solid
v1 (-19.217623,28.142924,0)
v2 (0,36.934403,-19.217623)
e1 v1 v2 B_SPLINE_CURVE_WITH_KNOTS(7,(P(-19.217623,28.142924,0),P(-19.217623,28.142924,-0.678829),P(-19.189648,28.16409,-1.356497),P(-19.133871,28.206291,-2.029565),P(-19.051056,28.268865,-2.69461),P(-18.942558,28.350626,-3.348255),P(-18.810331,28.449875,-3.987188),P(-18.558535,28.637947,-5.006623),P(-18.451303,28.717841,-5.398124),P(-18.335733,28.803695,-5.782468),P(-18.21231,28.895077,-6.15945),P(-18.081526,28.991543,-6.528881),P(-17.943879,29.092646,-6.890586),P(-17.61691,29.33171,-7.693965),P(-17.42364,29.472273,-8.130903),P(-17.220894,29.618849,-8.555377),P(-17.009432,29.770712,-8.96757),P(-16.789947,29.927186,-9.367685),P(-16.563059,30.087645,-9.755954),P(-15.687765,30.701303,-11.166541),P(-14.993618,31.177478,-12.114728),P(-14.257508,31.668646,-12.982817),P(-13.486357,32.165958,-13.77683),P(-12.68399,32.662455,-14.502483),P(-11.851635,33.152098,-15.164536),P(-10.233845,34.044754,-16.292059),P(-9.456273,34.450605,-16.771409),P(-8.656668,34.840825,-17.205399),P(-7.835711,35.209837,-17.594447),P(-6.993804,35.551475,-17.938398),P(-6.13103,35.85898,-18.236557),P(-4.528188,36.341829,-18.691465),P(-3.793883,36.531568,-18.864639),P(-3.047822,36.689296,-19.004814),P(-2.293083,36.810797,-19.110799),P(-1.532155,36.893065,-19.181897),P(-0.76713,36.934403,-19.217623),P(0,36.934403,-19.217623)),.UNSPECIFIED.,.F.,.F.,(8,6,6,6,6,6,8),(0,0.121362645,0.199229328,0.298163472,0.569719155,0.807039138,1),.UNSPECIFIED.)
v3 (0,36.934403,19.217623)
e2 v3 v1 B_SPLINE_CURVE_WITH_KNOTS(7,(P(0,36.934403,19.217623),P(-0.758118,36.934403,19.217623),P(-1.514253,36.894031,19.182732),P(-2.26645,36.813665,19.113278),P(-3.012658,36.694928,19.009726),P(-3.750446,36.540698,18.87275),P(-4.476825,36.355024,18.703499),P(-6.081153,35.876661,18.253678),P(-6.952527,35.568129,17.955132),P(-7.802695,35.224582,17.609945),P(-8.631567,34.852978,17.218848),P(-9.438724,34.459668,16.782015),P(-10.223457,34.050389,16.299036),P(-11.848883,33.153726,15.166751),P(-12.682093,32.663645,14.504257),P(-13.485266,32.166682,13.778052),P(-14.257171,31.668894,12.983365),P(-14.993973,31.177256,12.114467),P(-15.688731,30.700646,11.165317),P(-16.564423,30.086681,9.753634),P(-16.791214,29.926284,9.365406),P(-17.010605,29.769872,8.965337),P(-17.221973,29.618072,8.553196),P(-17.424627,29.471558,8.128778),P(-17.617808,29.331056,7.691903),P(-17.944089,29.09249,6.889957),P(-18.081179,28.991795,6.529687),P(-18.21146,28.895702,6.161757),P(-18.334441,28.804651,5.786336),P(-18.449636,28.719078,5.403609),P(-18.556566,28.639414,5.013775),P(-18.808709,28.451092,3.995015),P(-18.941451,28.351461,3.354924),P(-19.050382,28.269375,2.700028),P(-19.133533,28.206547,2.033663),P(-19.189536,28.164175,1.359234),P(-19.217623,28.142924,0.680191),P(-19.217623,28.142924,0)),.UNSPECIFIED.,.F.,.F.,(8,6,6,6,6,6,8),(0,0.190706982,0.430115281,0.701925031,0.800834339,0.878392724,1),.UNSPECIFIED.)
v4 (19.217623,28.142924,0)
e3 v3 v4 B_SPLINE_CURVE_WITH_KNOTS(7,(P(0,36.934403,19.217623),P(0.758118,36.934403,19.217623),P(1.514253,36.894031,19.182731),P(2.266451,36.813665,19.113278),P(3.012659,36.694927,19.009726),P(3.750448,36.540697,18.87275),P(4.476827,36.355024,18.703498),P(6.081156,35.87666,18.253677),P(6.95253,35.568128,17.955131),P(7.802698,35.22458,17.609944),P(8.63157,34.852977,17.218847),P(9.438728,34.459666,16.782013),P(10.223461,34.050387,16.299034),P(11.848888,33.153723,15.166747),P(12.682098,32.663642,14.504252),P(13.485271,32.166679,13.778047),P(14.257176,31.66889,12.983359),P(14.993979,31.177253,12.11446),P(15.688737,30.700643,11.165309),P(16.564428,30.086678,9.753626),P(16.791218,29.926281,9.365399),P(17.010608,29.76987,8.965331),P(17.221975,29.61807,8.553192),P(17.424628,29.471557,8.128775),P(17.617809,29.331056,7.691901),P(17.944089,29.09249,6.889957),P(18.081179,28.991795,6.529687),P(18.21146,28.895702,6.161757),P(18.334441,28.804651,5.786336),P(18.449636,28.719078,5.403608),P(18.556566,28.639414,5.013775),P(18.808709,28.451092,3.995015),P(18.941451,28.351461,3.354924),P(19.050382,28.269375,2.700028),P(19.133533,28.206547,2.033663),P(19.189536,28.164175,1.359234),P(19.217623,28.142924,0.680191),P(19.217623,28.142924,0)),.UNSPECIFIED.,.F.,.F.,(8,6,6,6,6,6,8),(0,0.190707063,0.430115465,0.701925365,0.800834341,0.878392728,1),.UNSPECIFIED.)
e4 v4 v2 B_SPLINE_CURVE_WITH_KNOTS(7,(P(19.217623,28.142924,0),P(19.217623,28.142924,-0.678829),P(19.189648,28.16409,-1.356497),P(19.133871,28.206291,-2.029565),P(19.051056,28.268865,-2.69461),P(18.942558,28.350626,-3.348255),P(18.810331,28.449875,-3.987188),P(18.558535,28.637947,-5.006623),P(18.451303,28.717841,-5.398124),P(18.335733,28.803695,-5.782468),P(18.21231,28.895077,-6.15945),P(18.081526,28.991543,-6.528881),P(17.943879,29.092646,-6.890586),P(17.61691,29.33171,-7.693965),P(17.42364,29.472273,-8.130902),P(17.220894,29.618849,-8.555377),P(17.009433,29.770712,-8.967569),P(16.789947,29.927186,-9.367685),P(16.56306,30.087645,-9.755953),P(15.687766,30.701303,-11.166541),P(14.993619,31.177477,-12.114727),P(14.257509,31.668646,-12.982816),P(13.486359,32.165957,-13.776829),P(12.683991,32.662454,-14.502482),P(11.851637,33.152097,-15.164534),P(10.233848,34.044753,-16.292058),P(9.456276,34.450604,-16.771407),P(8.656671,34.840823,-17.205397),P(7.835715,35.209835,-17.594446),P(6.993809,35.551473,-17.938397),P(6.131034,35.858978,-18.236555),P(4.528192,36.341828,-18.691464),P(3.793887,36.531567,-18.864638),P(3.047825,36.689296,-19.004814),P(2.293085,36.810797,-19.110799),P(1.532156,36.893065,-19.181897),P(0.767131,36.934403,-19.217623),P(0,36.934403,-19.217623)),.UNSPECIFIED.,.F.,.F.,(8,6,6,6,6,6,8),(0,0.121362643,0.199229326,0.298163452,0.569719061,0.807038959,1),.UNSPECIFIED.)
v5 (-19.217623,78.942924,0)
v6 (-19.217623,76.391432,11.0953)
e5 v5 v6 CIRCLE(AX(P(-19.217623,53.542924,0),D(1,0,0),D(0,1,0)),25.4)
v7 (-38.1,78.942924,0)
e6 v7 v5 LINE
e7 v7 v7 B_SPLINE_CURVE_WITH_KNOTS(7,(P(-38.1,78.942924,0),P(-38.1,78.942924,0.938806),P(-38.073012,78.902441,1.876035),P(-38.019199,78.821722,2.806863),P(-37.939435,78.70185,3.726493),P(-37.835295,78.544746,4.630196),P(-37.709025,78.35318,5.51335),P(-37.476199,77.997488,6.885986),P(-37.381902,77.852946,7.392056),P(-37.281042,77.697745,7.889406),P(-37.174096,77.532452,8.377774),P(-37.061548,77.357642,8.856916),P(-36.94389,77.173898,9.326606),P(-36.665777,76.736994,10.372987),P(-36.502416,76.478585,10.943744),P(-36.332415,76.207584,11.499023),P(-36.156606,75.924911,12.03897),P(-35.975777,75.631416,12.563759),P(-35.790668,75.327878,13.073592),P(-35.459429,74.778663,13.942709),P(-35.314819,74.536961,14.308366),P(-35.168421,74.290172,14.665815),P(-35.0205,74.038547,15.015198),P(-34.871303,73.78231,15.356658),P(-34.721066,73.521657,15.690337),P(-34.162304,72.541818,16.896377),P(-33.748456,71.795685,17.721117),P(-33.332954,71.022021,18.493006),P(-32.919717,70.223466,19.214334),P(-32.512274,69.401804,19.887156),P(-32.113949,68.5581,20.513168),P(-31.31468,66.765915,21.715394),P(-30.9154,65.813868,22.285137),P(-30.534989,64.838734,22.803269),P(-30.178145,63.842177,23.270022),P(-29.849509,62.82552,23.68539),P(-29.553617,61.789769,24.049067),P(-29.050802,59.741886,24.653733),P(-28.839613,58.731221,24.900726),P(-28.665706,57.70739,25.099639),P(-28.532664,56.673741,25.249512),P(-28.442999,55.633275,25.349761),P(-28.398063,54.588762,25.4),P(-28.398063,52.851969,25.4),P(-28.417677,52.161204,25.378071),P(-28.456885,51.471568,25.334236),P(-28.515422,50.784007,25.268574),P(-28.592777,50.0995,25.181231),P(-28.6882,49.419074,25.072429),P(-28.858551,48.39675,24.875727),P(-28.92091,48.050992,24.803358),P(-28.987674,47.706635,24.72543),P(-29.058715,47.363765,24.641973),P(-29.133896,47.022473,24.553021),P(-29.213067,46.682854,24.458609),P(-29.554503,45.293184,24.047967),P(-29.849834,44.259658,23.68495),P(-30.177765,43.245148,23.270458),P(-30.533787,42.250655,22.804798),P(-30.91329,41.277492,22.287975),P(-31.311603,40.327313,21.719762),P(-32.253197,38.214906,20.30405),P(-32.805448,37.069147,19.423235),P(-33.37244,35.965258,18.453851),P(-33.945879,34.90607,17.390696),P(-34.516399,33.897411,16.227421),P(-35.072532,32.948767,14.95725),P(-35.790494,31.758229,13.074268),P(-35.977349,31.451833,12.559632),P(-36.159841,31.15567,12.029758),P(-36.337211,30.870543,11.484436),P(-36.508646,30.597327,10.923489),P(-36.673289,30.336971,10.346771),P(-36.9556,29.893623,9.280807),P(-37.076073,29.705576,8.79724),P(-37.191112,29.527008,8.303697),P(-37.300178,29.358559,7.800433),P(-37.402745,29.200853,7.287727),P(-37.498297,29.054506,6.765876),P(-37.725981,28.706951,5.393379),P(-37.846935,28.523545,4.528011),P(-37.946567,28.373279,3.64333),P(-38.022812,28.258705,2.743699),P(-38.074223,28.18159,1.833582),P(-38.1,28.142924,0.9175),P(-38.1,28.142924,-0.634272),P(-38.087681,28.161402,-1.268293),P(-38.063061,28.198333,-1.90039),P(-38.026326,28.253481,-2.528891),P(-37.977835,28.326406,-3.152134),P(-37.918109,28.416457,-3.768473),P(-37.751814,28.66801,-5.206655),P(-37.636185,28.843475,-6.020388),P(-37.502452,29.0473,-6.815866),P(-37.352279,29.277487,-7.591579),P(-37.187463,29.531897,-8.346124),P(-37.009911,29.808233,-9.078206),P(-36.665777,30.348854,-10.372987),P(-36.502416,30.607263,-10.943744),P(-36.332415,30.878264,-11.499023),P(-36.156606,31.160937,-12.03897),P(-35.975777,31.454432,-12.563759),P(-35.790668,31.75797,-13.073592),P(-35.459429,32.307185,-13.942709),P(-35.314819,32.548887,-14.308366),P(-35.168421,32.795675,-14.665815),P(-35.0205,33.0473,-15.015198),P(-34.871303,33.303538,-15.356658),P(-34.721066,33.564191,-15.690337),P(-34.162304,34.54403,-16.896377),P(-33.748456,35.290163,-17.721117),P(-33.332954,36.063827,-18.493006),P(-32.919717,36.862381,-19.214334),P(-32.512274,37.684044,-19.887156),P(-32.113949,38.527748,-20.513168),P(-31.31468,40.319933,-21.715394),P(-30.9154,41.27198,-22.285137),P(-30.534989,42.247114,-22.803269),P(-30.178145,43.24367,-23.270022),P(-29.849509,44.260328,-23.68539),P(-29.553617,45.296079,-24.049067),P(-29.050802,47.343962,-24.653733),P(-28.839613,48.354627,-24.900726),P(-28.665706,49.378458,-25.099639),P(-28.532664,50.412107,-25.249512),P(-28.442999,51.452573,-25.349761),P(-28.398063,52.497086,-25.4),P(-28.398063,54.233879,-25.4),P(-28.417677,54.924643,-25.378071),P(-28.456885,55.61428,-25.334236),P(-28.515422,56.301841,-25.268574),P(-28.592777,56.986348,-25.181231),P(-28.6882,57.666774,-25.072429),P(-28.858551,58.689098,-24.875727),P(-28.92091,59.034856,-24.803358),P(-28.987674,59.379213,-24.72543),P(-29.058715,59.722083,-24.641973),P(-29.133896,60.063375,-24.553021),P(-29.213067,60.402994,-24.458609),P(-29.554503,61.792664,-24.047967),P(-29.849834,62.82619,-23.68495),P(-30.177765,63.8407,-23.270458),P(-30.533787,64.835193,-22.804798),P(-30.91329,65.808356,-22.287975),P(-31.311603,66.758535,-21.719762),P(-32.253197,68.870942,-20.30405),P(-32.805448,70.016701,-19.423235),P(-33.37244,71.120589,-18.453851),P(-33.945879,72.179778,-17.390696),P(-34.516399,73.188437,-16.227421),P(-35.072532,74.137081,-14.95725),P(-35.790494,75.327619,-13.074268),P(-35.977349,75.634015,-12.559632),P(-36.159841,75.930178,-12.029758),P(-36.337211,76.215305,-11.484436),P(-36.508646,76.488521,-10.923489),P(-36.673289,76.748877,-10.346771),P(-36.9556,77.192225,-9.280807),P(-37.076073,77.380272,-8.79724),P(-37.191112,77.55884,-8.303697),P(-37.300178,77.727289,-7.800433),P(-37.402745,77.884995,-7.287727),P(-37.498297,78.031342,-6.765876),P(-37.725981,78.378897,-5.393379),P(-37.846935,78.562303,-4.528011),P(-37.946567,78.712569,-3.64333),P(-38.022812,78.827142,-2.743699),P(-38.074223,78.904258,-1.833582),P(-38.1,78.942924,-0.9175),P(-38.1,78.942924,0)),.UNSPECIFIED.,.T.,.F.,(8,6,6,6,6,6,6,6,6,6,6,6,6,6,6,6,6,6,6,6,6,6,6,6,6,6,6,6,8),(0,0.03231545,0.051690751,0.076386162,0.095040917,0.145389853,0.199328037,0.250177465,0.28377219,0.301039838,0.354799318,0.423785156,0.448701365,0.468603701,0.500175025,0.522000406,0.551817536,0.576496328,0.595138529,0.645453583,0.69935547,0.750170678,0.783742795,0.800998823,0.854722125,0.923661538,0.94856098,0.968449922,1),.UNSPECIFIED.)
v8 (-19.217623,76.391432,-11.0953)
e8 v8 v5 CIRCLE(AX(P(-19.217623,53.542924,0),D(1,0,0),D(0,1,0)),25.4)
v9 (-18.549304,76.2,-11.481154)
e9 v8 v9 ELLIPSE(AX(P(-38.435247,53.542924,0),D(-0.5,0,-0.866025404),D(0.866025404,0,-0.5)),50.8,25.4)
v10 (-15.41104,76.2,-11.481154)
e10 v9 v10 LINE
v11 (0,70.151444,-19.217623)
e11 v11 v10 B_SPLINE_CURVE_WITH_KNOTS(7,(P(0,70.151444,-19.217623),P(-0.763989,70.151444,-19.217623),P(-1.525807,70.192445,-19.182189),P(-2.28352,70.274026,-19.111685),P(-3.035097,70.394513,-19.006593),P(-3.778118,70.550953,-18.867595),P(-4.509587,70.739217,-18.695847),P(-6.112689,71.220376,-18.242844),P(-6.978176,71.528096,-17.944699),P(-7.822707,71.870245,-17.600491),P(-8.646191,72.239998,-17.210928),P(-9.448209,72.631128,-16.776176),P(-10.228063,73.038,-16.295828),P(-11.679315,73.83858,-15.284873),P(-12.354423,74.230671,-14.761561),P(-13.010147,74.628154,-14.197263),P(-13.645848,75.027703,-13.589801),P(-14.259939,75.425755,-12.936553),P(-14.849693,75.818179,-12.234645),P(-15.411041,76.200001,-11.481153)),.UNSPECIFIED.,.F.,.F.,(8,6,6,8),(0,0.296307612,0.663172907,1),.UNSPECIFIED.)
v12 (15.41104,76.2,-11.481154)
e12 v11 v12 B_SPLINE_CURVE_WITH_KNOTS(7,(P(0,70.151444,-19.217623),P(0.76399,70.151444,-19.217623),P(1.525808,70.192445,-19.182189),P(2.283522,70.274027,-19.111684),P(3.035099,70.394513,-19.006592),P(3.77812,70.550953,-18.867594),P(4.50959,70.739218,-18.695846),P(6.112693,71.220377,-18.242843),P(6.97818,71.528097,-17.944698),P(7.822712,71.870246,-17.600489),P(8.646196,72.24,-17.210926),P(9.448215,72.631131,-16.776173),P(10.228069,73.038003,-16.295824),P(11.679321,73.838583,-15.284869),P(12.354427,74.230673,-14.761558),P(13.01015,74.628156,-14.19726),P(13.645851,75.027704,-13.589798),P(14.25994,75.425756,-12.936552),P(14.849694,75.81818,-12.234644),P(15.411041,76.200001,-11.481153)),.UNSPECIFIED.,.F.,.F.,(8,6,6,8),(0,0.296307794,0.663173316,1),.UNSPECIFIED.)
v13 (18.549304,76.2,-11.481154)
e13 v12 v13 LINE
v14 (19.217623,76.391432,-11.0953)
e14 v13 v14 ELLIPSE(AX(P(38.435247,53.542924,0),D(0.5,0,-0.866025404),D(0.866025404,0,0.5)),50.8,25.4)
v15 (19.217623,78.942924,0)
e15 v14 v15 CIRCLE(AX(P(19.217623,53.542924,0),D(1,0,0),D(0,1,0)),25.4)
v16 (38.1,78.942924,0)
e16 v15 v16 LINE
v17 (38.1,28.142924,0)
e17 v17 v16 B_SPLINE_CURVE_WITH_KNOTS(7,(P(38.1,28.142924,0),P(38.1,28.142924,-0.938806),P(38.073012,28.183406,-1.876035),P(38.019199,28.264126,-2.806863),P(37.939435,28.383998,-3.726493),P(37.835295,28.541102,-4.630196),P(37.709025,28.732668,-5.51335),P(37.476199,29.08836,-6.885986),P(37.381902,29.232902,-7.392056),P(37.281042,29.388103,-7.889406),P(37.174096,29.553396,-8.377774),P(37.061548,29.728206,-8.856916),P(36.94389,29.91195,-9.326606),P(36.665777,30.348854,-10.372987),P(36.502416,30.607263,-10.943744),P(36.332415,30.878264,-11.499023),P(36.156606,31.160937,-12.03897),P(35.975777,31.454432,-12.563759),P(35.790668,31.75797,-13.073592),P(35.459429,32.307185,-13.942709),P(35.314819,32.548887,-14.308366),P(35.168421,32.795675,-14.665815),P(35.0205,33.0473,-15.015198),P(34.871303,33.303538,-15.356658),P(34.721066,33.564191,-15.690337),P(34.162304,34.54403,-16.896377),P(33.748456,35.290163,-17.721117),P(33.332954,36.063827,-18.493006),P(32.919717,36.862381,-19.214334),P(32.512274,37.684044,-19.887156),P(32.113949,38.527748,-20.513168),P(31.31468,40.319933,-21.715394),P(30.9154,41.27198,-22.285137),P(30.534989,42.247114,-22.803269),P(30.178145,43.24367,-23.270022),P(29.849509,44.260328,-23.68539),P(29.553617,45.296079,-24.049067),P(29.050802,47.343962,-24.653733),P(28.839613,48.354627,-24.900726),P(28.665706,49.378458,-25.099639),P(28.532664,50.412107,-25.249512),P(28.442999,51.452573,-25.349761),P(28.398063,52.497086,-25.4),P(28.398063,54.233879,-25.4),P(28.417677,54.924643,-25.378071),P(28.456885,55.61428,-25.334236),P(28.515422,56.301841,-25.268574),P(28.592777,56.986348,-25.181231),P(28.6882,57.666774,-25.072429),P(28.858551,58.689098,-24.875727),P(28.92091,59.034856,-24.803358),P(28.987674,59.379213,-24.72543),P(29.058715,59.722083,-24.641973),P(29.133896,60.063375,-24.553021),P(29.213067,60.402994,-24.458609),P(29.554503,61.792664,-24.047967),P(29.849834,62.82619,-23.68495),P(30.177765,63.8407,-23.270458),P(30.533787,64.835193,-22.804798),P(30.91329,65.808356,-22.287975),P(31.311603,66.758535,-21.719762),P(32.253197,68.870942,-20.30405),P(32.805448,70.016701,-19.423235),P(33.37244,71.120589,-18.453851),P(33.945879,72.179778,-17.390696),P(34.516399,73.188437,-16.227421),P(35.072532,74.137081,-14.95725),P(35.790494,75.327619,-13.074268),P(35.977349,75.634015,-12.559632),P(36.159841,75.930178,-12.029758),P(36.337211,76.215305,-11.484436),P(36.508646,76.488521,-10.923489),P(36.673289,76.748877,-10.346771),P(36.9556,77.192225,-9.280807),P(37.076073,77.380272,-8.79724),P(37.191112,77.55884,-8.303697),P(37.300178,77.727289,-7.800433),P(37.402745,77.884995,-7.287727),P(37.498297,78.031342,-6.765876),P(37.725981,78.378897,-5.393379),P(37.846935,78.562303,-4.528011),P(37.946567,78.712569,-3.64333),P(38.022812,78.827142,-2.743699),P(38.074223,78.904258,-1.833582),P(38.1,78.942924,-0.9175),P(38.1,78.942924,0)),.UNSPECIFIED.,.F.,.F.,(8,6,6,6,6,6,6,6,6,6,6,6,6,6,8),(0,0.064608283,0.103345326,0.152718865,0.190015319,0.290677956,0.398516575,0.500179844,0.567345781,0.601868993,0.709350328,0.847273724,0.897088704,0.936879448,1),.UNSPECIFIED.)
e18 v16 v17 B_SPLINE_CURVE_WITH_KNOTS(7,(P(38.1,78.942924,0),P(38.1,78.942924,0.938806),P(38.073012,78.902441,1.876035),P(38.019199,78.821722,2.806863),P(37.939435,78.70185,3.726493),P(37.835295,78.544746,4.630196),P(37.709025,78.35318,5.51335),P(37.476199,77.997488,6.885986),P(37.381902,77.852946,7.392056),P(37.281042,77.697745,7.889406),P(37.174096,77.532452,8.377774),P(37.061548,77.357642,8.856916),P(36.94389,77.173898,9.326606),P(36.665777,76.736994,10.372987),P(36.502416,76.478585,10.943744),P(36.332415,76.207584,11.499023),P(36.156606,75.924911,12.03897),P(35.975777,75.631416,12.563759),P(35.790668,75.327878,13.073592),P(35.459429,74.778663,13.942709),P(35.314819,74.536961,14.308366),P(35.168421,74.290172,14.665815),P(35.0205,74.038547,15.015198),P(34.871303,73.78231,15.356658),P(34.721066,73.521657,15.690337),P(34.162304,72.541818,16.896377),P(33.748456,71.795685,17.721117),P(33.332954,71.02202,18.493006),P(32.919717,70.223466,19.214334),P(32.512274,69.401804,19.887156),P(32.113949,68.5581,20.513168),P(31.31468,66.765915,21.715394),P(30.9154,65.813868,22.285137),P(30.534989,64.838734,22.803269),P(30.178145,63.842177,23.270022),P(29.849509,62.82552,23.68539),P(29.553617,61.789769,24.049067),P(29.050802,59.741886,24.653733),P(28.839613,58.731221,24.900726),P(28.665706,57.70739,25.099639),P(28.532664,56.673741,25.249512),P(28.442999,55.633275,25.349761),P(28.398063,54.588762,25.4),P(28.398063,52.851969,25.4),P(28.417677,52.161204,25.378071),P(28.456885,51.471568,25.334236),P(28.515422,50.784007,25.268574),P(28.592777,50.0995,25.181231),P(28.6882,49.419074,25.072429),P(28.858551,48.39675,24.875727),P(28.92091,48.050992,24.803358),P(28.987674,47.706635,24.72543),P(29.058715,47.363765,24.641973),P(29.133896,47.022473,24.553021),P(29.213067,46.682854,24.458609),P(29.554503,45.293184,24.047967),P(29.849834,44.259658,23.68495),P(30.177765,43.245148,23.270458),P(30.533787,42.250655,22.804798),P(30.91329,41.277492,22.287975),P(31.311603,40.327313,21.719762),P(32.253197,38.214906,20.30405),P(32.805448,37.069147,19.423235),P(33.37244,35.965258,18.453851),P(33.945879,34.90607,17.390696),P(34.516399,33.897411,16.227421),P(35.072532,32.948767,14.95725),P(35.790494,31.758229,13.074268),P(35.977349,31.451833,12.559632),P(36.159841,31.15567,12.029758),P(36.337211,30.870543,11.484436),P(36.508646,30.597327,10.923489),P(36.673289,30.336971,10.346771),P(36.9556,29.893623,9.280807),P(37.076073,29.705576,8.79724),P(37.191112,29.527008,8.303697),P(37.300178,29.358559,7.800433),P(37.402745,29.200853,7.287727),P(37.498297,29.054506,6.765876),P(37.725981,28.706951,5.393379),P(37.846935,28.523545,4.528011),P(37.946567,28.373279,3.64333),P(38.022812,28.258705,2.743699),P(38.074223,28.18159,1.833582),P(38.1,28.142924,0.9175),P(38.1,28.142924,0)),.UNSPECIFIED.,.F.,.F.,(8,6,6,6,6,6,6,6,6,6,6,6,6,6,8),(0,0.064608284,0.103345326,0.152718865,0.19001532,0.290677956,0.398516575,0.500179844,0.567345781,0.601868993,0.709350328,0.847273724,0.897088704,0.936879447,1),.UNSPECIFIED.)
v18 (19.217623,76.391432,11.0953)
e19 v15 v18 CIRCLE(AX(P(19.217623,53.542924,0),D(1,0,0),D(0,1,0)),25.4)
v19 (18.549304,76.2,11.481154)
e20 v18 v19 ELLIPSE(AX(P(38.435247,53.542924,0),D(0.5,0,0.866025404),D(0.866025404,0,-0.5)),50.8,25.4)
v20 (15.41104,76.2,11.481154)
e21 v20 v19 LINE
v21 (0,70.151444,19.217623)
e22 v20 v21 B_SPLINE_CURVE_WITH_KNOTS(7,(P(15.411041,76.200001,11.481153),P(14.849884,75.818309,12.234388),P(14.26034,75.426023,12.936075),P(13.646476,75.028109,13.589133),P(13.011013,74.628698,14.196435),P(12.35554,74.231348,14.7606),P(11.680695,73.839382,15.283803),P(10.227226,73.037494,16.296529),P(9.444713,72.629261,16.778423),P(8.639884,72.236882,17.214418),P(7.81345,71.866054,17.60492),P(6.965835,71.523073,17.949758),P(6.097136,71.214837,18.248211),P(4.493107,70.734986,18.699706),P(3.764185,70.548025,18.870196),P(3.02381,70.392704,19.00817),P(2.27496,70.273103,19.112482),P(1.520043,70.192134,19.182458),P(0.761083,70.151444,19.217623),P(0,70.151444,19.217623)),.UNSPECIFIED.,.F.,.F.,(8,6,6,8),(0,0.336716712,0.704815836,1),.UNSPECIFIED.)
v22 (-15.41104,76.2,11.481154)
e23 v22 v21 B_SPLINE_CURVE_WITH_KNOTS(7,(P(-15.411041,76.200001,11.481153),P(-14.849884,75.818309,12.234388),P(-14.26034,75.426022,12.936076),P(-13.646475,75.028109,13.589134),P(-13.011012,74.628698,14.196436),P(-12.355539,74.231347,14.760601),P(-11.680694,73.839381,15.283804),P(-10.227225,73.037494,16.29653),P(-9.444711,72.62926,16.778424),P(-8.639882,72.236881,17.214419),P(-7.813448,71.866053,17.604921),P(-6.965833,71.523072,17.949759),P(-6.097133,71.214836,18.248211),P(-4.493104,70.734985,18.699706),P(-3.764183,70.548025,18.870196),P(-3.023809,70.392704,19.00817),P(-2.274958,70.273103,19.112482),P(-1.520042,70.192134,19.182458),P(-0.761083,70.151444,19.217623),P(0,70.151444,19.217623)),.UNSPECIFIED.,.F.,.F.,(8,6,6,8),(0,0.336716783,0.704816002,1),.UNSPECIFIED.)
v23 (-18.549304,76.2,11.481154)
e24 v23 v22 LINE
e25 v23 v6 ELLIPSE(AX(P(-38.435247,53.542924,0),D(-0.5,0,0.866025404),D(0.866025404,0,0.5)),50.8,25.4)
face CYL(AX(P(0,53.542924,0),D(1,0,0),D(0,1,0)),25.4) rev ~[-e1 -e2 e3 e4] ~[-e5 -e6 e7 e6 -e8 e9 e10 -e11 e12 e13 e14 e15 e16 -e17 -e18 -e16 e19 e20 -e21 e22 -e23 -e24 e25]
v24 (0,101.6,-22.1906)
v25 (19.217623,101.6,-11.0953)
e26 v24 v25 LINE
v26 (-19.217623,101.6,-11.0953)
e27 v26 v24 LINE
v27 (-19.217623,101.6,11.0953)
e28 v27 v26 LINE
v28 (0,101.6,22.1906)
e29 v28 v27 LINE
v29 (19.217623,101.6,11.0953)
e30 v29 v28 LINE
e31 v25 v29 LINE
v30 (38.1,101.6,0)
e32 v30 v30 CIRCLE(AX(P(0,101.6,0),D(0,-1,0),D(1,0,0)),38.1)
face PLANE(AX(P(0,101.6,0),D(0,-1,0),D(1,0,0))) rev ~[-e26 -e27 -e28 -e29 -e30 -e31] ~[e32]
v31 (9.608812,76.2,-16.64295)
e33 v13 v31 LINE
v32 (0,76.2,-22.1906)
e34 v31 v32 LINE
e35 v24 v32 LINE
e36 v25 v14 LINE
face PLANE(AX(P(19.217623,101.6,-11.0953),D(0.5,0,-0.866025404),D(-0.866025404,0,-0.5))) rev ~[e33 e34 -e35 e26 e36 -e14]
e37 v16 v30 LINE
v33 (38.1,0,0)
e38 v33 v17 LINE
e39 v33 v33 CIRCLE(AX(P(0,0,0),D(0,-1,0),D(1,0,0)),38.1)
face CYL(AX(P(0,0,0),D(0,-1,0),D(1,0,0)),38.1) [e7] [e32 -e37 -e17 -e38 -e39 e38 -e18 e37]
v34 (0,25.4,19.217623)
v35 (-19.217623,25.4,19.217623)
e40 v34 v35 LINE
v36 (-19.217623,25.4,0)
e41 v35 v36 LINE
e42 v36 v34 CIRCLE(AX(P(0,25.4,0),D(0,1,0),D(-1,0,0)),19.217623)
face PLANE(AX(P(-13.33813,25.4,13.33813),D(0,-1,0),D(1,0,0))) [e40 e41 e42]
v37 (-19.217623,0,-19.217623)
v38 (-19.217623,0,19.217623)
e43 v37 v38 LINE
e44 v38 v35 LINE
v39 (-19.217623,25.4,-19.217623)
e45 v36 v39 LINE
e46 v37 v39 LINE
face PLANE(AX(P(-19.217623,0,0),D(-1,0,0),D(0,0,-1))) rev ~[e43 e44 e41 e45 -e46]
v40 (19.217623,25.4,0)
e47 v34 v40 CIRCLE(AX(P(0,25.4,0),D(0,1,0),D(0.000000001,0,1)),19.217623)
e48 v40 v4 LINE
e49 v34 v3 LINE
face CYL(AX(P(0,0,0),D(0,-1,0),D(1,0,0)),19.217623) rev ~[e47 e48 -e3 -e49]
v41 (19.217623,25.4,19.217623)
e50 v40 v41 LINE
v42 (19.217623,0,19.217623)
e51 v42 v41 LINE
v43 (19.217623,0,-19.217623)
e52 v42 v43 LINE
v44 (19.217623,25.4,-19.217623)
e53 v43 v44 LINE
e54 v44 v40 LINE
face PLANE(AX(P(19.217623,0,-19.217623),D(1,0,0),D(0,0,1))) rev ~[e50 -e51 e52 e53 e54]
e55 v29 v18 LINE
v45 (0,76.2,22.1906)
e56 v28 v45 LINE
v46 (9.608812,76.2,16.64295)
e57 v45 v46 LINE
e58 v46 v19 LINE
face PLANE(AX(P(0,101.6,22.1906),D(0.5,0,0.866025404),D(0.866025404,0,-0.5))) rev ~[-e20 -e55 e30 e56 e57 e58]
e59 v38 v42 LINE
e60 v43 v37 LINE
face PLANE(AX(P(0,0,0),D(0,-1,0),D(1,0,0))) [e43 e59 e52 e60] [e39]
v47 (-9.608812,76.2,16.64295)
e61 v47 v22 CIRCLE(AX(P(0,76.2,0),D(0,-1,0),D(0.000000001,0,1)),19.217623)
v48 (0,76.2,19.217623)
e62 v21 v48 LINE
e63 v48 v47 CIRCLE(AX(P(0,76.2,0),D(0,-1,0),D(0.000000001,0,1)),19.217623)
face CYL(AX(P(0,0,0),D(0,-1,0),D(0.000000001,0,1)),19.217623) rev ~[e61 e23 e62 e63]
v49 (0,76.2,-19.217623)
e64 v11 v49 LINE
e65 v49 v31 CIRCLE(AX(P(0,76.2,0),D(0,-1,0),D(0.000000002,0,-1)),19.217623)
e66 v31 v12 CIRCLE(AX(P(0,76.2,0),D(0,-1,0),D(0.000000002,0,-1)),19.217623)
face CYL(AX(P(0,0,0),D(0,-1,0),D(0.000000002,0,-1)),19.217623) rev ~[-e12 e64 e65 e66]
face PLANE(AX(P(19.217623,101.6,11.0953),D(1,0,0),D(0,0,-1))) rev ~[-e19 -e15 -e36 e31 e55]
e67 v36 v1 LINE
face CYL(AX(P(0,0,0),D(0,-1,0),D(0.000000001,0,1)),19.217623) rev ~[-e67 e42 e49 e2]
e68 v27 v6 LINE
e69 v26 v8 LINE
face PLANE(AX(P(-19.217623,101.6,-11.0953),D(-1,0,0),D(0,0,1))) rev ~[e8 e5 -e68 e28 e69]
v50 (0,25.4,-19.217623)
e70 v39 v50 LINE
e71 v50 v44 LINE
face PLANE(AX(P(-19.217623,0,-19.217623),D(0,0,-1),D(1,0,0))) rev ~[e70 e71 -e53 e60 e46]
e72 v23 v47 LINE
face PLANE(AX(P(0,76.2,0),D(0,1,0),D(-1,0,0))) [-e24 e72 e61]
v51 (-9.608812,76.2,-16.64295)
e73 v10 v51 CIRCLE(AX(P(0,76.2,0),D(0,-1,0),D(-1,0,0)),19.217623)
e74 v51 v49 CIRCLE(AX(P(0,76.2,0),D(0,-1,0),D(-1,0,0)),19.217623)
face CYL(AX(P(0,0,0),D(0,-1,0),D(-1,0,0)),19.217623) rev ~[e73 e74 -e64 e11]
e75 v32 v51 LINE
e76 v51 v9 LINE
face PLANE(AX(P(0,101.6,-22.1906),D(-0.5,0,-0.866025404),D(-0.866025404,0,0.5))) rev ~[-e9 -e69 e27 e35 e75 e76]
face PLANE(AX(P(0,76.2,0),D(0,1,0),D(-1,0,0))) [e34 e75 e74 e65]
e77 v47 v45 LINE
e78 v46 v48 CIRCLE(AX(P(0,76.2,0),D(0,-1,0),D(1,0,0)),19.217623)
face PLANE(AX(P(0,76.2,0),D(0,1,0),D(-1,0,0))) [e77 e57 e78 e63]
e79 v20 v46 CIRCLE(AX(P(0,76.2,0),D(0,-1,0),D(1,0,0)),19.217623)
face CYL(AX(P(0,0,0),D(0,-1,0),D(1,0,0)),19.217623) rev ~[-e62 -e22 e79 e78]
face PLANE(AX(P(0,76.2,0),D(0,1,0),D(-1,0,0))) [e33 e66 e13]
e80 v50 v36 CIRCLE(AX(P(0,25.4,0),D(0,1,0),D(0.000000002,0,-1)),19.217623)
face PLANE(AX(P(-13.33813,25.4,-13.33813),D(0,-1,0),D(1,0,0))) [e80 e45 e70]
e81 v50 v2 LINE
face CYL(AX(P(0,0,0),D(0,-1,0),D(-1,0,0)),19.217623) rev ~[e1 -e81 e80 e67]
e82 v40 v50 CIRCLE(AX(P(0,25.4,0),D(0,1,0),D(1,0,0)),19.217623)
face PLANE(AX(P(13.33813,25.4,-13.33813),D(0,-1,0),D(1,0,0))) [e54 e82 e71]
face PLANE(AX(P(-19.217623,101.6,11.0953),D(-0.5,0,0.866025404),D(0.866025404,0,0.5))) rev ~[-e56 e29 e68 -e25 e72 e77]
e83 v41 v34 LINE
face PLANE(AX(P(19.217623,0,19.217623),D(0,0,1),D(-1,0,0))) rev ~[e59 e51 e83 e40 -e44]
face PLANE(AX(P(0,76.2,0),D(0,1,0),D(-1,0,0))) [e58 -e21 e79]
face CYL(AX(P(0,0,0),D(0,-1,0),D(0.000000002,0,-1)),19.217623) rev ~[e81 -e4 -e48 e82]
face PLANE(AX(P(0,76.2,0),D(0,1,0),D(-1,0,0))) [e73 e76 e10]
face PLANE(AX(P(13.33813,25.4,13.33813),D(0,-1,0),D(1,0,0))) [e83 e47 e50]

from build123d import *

# Parameters (mm, degrees)
F0_R     = 38.1
F1_DEPTH = 101.6
F2_DEPTH = 101.601
F3_DEPTH = 25.4
F5_DEPTH = 25.4
F6_R     = 25.4
F7_DEPTH = 38.1


with BuildPart() as f1:
    # F0 (on Front) → F1 (new body)
    with BuildSketch(Plane.XZ):
        Circle(F0_R)
        Polygon((3.91e-08, -19.2176233977), (-19.2176233977, -19.2176233977), (-19.2176233977, 0), (-19.2176233977, 19.2176233977), (2.72e-08, 19.2176233977), (19.2176233977, 19.2176233977), (19.2176233977, 0), (19.2176233977, -19.2176233977), align=None, mode=Mode.SUBTRACT)
        with BuildLine():
            ThreePointArc((2.72e-08, 19.2176233977), (13.5889118324, 13.5889118132), (19.2176233977, 0))
            Line((19.2176233977, 0), (19.2176233977, 19.2176233977))
            Line((19.2176233977, 19.2176233977), (2.72e-08, 19.2176233977))
        make_face()
        with BuildLine():
            ThreePointArc((-19.2176233977, 0), (-13.588911809, -13.5889118366), (3.91e-08, -19.2176233977))
            ThreePointArc((3.91e-08, -19.2176233977), (13.5889118366, -13.588911809), (19.2176233977, 0))
            ThreePointArc((19.2176233977, 0), (13.5889118324, 13.5889118132), (2.72e-08, 19.2176233977))
            ThreePointArc((2.72e-08, 19.2176233977), (-13.5889118132, 13.5889118324), (-19.2176233977, 0))
        make_face()
        with BuildLine():
            Line((-19.2176233977, 19.2176233977), (-19.2176233977, 0))
            ThreePointArc((-19.2176233977, 0), (-13.5889118132, 13.5889118324), (2.72e-08, 19.2176233977))
            Line((2.72e-08, 19.2176233977), (-19.2176233977, 19.2176233977))
        make_face()
        with BuildLine():
            Line((-19.2176233977, 0), (-19.2176233977, -19.2176233977))
            Line((-19.2176233977, -19.2176233977), (3.91e-08, -19.2176233977))
            ThreePointArc((3.91e-08, -19.2176233977), (-13.588911809, -13.5889118366), (-19.2176233977, 0))
        make_face()
        with BuildLine():
            ThreePointArc((19.2176233977, 0), (13.5889118366, -13.588911809), (3.91e-08, -19.2176233977))
            Line((3.91e-08, -19.2176233977), (19.2176233977, -19.2176233977))
            Line((19.2176233977, -19.2176233977), (19.2176233977, 0))
        make_face()
    extrude(amount=-F1_DEPTH)

    # F0 (on Front) → F2 (cut, through all)
    with BuildSketch(Plane.XZ):
        with BuildLine():
            ThreePointArc((-19.2176233977, 0), (-13.588911809, -13.5889118366), (3.91e-08, -19.2176233977))
            ThreePointArc((3.91e-08, -19.2176233977), (13.5889118366, -13.588911809), (19.2176233977, 0))
            ThreePointArc((19.2176233977, 0), (13.5889118324, 13.5889118132), (2.72e-08, 19.2176233977))
            ThreePointArc((2.72e-08, 19.2176233977), (-13.5889118132, 13.5889118324), (-19.2176233977, 0))
        make_face()
    extrude(amount=-F2_DEPTH, mode=Mode.SUBTRACT)

    # F0 (on Front) → F3 (cut)
    with BuildSketch(Plane.XZ):
        with BuildLine():
            ThreePointArc((19.2176233977, 0), (13.5889118366, -13.588911809), (3.91e-08, -19.2176233977))
            Line((3.91e-08, -19.2176233977), (19.2176233977, -19.2176233977))
            Line((19.2176233977, -19.2176233977), (19.2176233977, 0))
        make_face()
        with BuildLine():
            Line((-19.2176233977, 0), (-19.2176233977, -19.2176233977))
            Line((-19.2176233977, -19.2176233977), (3.91e-08, -19.2176233977))
            ThreePointArc((3.91e-08, -19.2176233977), (-13.588911809, -13.5889118366), (-19.2176233977, 0))
        make_face()
        with BuildLine():
            Line((-19.2176233977, 19.2176233977), (-19.2176233977, 0))
            ThreePointArc((-19.2176233977, 0), (-13.5889118132, 13.5889118324), (2.72e-08, 19.2176233977))
            Line((2.72e-08, 19.2176233977), (-19.2176233977, 19.2176233977))
        make_face()
        with BuildLine():
            ThreePointArc((2.72e-08, 19.2176233977), (13.5889118324, 13.5889118132), (19.2176233977, 0))
            Line((19.2176233977, 0), (19.2176233977, 19.2176233977))
            Line((19.2176233977, 19.2176233977), (2.72e-08, 19.2176233977))
        make_face()
    extrude(amount=-F3_DEPTH, mode=Mode.SUBTRACT)

    # F4 (on face) → F5 (cut)
    with BuildSketch(Plane(origin=(0, 101.6, 0), x_dir=(-1, 0, 0), z_dir=(0, 1, 0))):
        Polygon((-19.2176233977, 11.0953000419), (-19.2176233977, -11.0953000419), (0, -22.1906000837), (19.2176233977, -11.0953000419), (19.2176233977, 11.0953000419), (0, 22.1906000837), align=None)
    extrude(amount=-F5_DEPTH, mode=Mode.SUBTRACT)

    # F6 (on Right) → F7 (cut, symmetric)
    with BuildSketch(Plane.YZ):
        with Locations((53.5429239203, 0)):
            Circle(F6_R)
    extrude(amount=F7_DEPTH, both=True, mode=Mode.SUBTRACT)


solid = f1.part
